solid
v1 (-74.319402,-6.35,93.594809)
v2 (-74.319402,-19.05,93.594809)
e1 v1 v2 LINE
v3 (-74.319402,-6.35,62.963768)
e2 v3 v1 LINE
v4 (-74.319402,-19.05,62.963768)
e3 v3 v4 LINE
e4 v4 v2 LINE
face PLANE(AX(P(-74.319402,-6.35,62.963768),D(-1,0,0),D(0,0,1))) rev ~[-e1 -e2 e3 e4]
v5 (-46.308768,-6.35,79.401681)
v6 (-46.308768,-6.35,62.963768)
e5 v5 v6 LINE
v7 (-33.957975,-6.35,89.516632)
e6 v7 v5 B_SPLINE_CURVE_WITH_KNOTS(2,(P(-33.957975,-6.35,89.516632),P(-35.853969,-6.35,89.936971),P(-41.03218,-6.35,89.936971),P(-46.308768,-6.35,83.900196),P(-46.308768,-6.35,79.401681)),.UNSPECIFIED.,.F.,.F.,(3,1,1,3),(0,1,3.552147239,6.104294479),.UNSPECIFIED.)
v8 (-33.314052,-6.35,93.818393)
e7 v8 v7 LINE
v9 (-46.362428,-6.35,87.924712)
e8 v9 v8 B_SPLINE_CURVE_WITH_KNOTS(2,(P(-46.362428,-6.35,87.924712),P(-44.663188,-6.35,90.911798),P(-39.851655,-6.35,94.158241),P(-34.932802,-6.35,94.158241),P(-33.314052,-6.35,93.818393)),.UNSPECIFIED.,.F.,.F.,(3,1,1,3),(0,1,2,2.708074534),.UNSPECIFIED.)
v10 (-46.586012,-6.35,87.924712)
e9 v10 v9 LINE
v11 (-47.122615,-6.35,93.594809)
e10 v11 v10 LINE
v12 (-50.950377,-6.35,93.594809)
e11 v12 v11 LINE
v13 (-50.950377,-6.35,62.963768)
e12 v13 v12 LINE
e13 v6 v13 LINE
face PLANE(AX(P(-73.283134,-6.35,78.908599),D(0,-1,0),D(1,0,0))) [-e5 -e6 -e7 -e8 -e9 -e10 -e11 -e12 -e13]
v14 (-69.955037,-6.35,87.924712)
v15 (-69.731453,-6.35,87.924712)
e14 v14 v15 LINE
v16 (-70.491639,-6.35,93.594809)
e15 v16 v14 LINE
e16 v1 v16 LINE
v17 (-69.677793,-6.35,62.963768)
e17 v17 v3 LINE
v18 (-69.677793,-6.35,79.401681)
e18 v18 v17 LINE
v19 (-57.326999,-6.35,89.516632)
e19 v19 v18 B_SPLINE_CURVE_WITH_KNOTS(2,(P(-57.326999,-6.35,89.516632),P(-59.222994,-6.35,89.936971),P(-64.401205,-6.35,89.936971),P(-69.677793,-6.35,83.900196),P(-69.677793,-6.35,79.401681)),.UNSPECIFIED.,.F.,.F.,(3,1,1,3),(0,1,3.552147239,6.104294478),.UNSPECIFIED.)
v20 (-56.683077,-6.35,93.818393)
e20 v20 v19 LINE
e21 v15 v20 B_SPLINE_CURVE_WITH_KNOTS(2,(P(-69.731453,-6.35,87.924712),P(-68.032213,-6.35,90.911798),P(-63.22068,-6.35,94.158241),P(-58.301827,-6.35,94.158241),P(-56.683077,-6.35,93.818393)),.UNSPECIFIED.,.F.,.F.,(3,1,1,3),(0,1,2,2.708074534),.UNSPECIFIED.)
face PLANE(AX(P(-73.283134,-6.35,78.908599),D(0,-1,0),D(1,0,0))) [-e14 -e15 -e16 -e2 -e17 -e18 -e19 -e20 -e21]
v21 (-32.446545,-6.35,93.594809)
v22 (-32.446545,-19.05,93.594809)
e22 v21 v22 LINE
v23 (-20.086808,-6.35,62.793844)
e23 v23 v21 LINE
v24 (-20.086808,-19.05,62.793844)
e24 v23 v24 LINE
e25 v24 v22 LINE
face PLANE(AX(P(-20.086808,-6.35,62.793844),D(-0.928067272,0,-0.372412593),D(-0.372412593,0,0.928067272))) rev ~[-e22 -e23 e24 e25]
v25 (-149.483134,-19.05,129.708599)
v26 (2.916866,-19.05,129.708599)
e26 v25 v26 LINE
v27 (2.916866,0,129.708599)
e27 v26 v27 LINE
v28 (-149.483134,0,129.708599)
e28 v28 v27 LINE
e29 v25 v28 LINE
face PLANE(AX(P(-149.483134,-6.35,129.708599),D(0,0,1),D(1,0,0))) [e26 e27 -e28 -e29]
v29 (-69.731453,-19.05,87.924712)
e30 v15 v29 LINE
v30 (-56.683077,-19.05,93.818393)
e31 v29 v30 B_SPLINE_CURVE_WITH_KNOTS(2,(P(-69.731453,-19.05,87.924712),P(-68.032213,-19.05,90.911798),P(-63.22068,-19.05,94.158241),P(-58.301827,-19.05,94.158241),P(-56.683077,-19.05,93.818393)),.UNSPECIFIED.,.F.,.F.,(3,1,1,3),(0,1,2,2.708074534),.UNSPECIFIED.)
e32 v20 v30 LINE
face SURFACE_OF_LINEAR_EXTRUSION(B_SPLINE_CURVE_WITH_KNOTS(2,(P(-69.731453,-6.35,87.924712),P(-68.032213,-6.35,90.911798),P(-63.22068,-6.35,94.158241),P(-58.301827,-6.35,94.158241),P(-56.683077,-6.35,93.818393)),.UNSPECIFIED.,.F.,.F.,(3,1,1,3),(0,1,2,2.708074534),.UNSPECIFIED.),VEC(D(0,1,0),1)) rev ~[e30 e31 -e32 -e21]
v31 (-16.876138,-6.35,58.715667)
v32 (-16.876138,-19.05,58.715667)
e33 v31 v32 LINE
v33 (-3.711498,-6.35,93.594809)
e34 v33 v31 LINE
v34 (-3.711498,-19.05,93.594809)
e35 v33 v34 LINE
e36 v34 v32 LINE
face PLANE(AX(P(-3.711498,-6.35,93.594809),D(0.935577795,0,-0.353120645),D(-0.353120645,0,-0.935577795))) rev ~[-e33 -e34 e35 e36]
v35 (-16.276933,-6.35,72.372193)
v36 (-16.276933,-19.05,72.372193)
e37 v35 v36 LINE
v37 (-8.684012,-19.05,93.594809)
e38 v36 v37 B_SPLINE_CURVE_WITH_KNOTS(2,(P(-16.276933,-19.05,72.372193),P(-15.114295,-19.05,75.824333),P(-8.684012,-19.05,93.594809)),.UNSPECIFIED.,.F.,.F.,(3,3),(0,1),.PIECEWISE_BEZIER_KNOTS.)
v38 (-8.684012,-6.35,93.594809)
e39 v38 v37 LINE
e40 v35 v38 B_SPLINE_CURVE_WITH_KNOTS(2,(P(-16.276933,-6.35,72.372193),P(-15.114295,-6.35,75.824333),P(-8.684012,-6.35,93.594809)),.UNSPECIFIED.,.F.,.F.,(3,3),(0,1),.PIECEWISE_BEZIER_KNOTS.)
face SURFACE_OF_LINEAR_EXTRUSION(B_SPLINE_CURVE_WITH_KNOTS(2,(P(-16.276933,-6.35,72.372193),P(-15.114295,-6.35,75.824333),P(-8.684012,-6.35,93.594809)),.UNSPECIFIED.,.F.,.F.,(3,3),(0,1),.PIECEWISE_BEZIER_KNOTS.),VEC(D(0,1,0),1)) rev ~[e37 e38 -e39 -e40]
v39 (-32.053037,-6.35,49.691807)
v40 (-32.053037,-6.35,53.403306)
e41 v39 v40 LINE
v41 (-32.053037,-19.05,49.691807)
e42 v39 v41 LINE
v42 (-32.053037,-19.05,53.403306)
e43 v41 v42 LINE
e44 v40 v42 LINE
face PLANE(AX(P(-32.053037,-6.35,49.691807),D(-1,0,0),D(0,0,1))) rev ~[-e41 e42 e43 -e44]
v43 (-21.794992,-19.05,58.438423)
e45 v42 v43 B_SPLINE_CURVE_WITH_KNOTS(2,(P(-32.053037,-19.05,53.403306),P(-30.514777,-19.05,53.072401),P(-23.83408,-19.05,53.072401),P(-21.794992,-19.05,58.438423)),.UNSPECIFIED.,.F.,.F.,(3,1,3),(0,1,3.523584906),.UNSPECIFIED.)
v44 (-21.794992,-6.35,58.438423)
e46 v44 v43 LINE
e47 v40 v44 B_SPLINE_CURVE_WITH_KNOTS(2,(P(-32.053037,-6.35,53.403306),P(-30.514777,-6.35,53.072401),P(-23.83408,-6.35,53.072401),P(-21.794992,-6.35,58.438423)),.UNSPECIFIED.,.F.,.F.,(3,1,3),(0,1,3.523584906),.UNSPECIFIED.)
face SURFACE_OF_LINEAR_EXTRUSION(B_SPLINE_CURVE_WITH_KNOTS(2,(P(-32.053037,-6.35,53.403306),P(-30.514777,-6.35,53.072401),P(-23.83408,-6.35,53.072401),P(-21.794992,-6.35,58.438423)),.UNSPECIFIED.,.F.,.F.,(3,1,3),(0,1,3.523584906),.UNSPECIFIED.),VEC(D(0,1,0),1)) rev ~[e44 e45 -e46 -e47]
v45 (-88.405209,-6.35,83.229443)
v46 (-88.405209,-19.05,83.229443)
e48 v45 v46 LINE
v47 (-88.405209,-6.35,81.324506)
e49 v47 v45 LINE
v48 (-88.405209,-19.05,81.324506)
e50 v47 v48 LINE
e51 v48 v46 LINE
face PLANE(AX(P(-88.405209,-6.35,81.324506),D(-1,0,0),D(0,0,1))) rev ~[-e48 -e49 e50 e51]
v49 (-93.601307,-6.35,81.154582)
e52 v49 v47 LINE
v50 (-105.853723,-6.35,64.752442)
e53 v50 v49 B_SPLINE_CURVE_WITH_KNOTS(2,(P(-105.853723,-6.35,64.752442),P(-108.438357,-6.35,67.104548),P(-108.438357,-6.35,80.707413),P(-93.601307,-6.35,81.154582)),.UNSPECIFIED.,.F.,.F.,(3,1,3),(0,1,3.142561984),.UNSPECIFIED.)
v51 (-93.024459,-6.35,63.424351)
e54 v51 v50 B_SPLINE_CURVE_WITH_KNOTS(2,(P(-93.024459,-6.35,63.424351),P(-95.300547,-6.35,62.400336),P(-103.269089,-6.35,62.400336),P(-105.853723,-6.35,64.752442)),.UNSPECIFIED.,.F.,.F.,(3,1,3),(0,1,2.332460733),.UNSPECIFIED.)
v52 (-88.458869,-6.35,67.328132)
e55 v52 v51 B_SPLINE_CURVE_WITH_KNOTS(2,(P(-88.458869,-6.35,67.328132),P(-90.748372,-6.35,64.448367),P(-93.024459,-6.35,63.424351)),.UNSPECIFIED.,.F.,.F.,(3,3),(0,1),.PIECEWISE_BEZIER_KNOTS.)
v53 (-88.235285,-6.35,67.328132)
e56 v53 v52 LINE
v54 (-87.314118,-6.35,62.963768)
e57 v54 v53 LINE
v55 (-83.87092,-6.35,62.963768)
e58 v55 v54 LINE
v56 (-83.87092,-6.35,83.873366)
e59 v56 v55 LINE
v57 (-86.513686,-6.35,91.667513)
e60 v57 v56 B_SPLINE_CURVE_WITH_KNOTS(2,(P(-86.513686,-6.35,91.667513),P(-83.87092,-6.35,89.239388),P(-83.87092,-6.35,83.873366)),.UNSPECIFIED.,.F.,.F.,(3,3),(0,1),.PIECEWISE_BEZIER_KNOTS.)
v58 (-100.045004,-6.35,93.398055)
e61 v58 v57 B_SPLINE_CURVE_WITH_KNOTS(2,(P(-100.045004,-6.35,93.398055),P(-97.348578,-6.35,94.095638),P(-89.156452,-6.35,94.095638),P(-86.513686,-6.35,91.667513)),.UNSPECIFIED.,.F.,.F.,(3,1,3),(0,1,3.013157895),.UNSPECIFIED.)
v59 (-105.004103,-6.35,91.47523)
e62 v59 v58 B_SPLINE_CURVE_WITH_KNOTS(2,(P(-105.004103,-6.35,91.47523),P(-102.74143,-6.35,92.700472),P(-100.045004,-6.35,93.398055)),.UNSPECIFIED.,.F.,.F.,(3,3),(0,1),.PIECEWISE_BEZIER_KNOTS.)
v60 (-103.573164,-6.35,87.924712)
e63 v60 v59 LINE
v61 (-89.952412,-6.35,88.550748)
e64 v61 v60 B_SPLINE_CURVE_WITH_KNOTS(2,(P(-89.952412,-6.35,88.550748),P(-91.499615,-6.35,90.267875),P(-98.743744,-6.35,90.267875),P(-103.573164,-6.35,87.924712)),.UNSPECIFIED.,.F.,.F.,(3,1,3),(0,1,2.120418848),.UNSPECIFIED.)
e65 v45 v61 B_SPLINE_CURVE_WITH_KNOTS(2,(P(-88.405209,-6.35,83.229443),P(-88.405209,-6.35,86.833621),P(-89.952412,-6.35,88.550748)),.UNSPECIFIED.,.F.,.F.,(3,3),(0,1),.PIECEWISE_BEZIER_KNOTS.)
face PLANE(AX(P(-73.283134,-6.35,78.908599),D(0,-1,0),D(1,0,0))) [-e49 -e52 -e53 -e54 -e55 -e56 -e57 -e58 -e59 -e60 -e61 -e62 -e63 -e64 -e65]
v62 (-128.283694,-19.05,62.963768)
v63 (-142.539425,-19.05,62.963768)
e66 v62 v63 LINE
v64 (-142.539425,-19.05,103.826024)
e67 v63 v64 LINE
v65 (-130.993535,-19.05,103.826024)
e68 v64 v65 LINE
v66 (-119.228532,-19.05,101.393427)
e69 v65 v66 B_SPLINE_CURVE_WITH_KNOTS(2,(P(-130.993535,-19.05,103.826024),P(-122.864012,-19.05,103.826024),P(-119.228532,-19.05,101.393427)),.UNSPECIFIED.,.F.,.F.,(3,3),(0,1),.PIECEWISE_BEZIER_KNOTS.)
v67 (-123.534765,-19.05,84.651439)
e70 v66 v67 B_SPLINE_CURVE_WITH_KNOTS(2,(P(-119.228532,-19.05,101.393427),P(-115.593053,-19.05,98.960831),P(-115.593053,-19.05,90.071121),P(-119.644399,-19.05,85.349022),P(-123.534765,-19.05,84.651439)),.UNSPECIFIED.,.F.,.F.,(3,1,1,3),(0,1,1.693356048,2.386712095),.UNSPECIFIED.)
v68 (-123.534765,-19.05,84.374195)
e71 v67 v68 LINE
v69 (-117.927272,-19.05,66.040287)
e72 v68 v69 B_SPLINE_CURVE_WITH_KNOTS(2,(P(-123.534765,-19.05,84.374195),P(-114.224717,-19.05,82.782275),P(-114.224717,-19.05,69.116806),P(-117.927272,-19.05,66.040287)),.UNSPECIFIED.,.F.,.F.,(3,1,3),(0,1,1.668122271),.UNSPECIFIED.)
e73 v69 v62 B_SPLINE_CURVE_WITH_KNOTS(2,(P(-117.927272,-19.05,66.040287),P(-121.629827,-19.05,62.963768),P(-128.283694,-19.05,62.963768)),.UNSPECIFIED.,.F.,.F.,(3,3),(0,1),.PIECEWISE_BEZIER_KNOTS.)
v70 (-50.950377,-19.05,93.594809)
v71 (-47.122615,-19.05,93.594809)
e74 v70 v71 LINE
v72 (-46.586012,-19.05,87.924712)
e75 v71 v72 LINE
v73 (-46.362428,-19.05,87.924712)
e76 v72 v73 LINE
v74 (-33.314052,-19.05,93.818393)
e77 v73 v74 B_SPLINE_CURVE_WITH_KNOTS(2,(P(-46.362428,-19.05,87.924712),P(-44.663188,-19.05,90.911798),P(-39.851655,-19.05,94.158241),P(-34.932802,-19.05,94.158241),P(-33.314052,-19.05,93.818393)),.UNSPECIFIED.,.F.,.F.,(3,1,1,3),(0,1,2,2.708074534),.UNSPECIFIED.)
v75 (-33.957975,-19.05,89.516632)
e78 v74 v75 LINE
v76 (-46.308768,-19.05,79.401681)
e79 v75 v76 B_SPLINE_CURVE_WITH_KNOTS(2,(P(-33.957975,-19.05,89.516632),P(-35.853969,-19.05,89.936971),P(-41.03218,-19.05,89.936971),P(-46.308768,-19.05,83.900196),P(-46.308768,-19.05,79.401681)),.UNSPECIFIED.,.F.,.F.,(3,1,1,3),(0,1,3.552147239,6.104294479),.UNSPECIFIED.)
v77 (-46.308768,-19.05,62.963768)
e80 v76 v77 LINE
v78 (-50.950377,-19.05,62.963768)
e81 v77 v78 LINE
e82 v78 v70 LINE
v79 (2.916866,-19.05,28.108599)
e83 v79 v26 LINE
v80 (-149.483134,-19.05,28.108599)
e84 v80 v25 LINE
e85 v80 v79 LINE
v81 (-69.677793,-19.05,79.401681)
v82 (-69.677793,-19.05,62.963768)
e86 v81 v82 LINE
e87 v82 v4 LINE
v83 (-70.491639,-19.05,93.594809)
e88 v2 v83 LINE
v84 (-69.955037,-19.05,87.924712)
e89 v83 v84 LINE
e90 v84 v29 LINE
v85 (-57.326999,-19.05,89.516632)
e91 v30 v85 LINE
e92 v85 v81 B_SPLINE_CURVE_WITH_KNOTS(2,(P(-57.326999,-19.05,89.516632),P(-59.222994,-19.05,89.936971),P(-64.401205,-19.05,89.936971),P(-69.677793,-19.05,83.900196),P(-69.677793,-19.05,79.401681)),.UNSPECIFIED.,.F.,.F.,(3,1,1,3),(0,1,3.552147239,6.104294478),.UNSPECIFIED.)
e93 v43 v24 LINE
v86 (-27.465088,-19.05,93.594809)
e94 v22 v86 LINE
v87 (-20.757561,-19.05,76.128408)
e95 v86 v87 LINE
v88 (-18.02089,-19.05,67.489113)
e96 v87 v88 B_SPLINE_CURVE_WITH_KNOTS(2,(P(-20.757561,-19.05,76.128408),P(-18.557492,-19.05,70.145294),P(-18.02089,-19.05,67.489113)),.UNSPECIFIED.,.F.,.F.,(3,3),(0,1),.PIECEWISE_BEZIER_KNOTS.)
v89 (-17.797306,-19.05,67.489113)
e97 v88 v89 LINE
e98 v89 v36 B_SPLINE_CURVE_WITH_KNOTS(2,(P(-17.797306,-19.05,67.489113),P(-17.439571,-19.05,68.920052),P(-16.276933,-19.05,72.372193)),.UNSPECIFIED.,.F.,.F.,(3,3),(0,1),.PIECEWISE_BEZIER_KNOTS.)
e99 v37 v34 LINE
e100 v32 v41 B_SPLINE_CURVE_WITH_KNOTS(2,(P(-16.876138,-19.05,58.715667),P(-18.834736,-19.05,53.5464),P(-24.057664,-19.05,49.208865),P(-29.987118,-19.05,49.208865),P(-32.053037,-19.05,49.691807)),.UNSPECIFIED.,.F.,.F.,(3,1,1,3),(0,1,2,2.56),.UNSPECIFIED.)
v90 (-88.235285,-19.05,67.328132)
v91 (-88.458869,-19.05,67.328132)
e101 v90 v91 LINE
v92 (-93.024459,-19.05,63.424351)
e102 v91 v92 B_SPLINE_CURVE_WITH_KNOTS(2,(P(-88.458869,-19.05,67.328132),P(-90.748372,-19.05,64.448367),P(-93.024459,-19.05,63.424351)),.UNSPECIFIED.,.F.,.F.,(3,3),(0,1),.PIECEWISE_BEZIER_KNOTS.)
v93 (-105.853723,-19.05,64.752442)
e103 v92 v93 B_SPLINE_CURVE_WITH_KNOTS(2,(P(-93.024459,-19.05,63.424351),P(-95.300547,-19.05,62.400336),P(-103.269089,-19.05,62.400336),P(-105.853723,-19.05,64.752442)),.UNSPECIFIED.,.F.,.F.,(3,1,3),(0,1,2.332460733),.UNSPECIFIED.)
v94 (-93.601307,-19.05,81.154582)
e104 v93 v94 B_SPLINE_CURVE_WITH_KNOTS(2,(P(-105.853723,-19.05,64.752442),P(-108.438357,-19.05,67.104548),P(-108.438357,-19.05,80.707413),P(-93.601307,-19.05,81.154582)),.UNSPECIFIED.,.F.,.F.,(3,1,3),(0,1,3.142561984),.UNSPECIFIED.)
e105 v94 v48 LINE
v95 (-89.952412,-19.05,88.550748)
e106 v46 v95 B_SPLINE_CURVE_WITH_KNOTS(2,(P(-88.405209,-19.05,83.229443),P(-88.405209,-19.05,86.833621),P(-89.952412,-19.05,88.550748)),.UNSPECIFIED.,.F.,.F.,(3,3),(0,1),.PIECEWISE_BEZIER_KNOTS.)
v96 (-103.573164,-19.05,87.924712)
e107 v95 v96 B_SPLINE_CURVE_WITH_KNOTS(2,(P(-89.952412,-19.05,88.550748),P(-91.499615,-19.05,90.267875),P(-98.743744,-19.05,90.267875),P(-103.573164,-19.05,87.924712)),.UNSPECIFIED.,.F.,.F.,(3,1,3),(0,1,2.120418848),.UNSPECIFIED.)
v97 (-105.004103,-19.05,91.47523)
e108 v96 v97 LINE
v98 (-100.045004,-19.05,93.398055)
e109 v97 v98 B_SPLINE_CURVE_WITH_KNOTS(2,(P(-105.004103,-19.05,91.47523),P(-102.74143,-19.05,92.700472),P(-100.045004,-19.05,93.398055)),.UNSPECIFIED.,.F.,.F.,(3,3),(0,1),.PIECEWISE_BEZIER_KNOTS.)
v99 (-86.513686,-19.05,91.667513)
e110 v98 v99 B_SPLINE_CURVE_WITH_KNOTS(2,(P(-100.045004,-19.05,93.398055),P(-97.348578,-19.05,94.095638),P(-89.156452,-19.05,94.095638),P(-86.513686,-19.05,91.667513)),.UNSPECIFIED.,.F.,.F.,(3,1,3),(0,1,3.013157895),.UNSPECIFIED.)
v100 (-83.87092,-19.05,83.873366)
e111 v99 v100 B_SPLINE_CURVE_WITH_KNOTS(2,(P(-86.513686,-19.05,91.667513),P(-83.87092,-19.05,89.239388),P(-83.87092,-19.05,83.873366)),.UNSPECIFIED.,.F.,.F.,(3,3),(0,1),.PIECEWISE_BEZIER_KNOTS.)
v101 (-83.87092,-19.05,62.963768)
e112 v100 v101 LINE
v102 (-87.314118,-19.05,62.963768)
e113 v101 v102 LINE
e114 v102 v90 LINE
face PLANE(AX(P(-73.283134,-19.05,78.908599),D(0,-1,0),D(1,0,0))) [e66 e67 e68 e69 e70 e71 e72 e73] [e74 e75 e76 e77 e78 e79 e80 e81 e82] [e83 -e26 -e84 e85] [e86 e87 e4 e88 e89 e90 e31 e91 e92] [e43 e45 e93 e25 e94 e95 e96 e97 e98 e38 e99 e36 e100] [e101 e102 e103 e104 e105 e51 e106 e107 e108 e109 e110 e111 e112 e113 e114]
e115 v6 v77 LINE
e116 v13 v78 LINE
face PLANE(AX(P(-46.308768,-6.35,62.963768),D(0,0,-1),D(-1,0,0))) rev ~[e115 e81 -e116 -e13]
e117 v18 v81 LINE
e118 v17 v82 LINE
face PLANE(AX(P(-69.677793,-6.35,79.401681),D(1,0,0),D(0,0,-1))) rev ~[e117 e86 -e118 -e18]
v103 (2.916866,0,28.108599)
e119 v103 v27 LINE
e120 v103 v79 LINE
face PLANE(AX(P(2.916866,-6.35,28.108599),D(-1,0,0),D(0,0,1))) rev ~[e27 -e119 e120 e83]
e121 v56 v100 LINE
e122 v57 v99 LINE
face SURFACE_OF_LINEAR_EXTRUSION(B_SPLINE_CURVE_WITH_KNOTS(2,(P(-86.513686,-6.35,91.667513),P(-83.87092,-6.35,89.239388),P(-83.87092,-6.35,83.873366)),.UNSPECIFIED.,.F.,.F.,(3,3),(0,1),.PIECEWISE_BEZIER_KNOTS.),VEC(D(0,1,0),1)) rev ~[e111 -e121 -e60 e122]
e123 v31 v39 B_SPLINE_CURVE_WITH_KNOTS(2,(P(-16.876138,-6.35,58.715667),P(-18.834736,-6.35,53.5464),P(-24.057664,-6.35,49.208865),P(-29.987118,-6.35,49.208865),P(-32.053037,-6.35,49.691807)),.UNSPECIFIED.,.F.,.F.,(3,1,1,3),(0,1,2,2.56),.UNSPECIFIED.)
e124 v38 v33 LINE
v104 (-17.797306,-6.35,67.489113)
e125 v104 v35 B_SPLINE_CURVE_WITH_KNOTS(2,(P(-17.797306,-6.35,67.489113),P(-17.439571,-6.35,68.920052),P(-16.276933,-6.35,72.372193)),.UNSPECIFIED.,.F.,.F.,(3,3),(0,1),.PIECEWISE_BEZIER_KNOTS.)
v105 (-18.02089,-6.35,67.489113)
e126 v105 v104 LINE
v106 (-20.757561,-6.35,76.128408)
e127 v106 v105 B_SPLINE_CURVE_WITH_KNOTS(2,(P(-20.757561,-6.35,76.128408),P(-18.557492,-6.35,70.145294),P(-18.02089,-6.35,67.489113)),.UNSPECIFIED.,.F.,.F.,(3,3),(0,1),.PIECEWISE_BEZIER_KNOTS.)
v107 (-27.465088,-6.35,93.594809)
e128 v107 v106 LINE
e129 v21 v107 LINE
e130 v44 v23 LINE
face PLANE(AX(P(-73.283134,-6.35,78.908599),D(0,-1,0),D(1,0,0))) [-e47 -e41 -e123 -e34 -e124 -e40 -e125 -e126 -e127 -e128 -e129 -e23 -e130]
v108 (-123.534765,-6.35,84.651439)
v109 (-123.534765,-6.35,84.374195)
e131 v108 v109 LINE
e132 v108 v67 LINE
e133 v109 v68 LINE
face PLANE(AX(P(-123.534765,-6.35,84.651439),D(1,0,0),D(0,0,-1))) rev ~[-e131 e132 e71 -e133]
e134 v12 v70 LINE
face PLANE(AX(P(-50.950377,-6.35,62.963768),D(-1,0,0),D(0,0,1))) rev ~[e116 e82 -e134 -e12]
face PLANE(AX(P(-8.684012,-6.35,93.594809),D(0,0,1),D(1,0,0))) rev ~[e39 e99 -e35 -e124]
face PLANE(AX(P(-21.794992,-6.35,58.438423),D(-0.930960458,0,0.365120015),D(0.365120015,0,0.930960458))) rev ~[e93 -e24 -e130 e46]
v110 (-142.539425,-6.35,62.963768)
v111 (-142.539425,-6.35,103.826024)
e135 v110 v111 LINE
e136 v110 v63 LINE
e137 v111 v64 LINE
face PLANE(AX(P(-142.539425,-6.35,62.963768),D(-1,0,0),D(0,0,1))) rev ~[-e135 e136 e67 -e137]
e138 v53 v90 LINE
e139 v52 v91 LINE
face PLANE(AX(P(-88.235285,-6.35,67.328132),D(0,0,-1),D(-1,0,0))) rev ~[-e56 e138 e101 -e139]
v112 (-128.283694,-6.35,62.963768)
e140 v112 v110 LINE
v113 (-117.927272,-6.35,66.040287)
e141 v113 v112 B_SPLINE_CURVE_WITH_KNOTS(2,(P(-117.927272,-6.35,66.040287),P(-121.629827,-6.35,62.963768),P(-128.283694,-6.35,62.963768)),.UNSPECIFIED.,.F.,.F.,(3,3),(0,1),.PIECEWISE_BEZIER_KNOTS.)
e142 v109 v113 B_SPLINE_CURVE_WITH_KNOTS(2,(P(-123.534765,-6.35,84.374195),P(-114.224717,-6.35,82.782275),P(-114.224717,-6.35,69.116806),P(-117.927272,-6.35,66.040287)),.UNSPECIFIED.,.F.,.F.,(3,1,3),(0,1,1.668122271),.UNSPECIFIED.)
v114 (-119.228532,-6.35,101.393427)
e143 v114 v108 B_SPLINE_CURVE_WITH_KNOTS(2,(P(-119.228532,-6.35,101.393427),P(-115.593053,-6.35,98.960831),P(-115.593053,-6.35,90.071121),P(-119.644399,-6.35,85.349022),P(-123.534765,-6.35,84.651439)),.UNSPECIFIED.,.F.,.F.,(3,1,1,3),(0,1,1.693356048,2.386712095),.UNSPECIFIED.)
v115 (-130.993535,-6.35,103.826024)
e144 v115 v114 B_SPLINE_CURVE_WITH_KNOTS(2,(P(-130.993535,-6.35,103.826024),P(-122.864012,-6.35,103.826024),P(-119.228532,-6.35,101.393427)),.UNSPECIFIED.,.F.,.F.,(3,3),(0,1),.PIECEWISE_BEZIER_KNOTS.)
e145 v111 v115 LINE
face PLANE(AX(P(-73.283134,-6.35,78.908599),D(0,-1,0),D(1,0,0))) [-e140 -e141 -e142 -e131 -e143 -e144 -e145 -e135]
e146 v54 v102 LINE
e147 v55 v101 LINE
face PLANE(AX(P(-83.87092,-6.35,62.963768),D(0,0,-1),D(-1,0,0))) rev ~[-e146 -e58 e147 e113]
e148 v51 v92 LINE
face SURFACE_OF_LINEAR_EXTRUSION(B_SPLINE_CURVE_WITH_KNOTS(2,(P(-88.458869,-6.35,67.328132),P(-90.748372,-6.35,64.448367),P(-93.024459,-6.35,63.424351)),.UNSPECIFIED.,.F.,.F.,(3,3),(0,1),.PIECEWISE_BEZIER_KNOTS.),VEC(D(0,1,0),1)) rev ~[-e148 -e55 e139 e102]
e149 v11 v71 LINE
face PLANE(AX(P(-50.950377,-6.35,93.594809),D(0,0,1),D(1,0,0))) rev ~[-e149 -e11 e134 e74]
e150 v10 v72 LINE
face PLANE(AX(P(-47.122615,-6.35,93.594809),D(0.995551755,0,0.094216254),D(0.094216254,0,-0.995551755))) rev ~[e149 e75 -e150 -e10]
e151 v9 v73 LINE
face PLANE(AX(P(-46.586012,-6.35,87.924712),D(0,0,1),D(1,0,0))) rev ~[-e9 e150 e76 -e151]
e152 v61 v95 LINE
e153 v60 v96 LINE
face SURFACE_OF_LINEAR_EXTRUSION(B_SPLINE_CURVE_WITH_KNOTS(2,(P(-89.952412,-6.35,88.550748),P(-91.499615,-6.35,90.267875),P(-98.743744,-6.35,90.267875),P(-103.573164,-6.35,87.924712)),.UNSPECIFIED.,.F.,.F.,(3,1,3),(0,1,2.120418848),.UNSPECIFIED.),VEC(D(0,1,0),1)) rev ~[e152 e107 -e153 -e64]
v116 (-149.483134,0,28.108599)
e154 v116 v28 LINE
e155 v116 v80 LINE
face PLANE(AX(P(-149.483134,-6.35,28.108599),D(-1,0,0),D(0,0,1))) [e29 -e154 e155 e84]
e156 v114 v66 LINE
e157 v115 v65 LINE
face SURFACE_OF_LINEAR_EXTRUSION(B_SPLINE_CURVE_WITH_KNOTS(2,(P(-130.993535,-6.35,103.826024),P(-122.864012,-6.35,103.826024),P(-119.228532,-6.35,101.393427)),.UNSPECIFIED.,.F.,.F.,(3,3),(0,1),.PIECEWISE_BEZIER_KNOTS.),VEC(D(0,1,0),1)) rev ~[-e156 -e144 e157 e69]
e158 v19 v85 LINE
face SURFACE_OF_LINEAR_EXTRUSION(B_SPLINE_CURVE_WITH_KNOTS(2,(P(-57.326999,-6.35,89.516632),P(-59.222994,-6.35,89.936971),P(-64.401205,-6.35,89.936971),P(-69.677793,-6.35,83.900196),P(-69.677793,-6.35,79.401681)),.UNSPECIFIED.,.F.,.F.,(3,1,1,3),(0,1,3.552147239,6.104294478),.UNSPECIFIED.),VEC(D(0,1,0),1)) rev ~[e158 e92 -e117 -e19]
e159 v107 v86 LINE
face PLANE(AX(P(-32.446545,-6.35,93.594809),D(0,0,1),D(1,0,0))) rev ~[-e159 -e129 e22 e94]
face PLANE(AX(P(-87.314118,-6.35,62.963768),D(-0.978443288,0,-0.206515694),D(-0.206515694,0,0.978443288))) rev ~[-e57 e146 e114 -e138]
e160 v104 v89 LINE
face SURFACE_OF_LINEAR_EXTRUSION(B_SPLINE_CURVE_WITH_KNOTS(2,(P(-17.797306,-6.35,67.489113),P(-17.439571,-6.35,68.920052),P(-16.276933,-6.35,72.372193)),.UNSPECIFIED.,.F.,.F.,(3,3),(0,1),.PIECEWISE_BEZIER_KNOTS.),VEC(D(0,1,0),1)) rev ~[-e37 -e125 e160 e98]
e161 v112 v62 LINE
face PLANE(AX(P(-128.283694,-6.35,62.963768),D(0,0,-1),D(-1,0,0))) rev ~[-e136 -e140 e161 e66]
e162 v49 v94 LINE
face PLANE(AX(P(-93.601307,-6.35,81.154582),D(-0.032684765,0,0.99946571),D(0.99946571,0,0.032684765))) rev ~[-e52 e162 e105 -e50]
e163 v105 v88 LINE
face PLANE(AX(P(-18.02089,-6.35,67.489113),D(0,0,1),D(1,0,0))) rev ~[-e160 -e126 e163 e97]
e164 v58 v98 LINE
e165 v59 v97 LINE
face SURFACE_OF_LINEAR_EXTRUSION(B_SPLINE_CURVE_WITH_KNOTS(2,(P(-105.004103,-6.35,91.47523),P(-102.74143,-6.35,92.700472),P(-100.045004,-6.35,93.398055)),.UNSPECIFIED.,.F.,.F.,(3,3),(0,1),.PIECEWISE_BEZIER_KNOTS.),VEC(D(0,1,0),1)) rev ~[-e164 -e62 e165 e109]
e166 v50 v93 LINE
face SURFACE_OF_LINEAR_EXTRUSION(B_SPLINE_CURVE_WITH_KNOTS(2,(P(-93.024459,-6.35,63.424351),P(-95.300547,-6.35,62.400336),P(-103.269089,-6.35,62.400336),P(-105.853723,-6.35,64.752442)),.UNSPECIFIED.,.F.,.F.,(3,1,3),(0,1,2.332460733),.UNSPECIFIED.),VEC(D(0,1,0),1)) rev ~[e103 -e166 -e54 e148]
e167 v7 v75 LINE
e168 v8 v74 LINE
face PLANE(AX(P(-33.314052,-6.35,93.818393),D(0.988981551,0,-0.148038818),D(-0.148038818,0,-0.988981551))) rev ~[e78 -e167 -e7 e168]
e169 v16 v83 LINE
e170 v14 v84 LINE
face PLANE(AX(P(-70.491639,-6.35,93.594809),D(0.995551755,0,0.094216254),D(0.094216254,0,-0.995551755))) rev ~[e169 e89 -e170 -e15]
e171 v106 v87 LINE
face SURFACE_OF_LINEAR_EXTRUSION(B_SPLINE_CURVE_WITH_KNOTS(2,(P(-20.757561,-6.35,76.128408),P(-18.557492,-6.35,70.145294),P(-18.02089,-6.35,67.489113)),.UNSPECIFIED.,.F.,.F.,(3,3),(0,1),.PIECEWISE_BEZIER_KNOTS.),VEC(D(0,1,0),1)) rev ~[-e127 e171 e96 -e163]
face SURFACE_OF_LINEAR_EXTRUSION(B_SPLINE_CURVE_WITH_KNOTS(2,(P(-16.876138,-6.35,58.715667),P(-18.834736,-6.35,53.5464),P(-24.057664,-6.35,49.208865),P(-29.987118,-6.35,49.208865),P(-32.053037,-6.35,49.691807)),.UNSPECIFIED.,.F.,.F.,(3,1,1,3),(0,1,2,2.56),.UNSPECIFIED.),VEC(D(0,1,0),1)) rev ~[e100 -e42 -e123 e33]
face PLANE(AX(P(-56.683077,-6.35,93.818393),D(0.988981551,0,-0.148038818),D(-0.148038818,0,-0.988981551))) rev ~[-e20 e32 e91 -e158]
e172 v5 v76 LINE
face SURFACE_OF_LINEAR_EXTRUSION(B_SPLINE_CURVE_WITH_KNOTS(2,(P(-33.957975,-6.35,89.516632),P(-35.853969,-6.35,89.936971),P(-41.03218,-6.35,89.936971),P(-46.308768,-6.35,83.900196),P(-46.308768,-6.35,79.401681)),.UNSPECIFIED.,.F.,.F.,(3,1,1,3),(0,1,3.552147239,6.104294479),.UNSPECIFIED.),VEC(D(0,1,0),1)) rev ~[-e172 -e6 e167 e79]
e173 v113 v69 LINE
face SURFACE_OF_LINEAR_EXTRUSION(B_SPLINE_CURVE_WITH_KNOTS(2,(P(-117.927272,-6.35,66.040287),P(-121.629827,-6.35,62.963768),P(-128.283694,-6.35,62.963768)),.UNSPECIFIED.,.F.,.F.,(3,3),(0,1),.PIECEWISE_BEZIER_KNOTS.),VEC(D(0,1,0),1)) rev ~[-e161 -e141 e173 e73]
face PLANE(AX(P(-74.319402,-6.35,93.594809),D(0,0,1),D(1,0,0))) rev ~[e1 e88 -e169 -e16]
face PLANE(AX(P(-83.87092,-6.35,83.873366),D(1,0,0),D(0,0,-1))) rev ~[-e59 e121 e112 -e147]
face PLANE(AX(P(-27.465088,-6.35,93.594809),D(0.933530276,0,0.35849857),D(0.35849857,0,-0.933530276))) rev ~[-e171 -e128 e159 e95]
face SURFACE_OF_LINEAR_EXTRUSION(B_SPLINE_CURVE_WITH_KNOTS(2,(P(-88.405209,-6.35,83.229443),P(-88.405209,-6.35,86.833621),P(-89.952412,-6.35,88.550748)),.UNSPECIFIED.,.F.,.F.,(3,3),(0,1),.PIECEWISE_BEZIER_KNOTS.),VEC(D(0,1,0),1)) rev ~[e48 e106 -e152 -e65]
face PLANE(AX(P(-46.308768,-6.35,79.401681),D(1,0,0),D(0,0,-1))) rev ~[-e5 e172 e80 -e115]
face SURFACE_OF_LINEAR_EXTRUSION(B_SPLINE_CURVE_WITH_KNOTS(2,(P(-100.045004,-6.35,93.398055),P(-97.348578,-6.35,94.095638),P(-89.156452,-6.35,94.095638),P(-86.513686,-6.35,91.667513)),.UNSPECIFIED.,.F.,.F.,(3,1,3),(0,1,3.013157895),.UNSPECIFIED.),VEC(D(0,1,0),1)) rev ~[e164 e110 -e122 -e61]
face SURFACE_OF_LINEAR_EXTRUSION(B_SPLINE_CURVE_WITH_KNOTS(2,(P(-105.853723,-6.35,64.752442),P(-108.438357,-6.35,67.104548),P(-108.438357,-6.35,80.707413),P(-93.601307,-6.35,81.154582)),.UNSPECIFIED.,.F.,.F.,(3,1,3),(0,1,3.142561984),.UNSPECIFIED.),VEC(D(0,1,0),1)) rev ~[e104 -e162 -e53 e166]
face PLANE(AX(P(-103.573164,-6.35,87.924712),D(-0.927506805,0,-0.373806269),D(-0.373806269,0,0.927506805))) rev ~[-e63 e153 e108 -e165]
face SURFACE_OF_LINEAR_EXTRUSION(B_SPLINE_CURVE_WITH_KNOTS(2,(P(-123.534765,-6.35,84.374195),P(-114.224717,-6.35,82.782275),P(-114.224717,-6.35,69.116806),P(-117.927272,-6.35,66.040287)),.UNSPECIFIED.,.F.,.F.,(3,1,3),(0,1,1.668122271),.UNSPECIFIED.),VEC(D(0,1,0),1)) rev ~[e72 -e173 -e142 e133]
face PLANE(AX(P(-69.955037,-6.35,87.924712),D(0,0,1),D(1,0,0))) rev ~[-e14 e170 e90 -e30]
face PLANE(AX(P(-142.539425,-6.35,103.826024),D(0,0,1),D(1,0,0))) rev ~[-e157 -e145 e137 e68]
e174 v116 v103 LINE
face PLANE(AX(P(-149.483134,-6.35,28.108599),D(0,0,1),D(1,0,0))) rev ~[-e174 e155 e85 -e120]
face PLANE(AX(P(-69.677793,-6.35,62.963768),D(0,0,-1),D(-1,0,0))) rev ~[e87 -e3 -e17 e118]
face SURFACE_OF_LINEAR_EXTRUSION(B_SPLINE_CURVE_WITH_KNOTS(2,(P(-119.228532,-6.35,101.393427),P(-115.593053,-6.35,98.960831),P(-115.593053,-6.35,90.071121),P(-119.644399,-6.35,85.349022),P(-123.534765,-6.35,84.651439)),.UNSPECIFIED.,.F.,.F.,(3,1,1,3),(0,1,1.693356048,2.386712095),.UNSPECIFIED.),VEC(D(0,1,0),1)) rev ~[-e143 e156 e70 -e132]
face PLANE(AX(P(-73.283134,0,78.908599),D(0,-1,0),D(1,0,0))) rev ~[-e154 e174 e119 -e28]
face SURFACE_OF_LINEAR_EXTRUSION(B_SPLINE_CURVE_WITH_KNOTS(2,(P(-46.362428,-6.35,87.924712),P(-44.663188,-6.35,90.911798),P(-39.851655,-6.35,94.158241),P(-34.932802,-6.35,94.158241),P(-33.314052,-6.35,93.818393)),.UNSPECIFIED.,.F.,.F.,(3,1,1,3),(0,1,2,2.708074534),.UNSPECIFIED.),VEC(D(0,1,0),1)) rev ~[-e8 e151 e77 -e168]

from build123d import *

# Parameters (mm, degrees)
F0_W     = 152.4
F0_H     = 101.6
F1_DEPTH = 6.35
F2_W     = 152.4
F2_H     = 101.6
F3_DEPTH = 12.7


with BuildPart() as f1:
    # F0 (on Front) → F1 (new body)
    with BuildSketch(Plane.XZ):
        with Locations((-73.2831337214, 78.9085992667)):
            Rectangle(F0_W, F0_H)
    extrude(amount=F1_DEPTH)

    # F2 (on face) → F3 (join)
    with BuildSketch(Plane.XZ.offset(6.35)):
        with Locations((-73.2831337214, 78.9085992667)):
            Rectangle(F2_W, F2_H)
        with BuildLine():
            Line((-83.8709204292, 62.9637678441), (-87.3141177383, 62.9637678441))
            Line((-87.3141177383, 62.9637678441), (-88.2352848107, 67.3281322256))
            Line((-88.2352848107, 67.3281322256), (-88.4588690515, 67.3281322256))
            add(Edge.make_bspline(
                [(-88.4588690515, 67.3281322256), (-90.7483716779, 64.4483672034), (-93.0244592498, 63.4243513802)],
                knots=[0, 0, 0, 1, 1, 1], degree=2))
            add(Edge.make_bspline(
                [(-93.0244592498, 63.4243513802), (-95.3005468216, 62.4003355571), (-98.7169140219, 62.4003355571)],
                knots=[0, 0, 0, 1, 1, 1], degree=2))
            add(Edge.make_bspline(
                [(-98.7169140219, 62.4003355571), (-103.2690891657, 62.4003355571), (-105.85372299, 64.7524417709)],
                knots=[0, 0, 0, 1, 1, 1], degree=2))
            add(Edge.make_bspline(
                [(-105.85372299, 64.7524417709), (-108.4383568142, 67.1045479847), (-108.4383568142, 71.4331388876)],
                knots=[0, 0, 0, 1, 1, 1], degree=2))
            add(Edge.make_bspline(
                [(-108.4383568142, 71.4331388876), (-108.4383568142, 80.7074131983), (-93.6013065912, 81.15458168)],
                knots=[0, 0, 0, 1, 1, 1], degree=2))
            Line((-93.6013065912, 81.15458168), (-88.4052088337, 81.324505703))
            Line((-88.4052088337, 81.324505703), (-88.4052088337, 83.2294434351))
            add(Edge.make_bspline(
                [(-88.4052088337, 83.2294434351), (-88.4052088337, 86.8336213977), (-89.9524117804, 88.5507483674)],
                knots=[0, 0, 0, 1, 1, 1], degree=2))
            add(Edge.make_bspline(
                [(-89.9524117804, 88.5507483674), (-91.4996147271, 90.2678753372), (-94.9159819274, 90.2678753372)],
                knots=[0, 0, 0, 1, 1, 1], degree=2))
            add(Edge.make_bspline(
                [(-94.9159819274, 90.2678753372), (-98.7437441308, 90.2678753372), (-103.5731637332, 87.924712493)],
                knots=[0, 0, 0, 1, 1, 1], degree=2))
            Line((-103.5731637332, 87.924712493), (-105.0041028747, 91.4752302378))
            add(Edge.make_bspline(
                [(-105.0041028747, 91.4752302378), (-102.7414303573, 92.7004718777), (-100.0450044126, 93.3980547091)],
                knots=[0, 0, 0, 1, 1, 1], degree=2))
            add(Edge.make_bspline(
                [(-100.0450044126, 93.3980547091), (-97.3485784679, 94.0956375406), (-94.6297940991, 94.0956375406)],
                knots=[0, 0, 0, 1, 1, 1], degree=2))
            add(Edge.make_bspline(
                [(-94.6297940991, 94.0956375406), (-89.156451883, 94.0956375406), (-86.5136861561, 91.6675126849)],
                knots=[0, 0, 0, 1, 1, 1], degree=2))
            add(Edge.make_bspline(
                [(-86.5136861561, 91.6675126849), (-83.8709204292, 89.2393878293), (-83.8709204292, 83.8733660488)],
                knots=[0, 0, 0, 1, 1, 1], degree=2))
            Line((-83.8709204292, 83.8733660488), (-83.8709204292, 62.9637678441))
        make_face(mode=Mode.SUBTRACT)
        with BuildLine():
            add(Edge.make_bspline(
                [(-65.6264463755, 92.5350195394), (-63.2206799439, 94.158241128), (-60.3409149217, 94.158241128)],
                knots=[0, 0, 0, 1, 1, 1], degree=2))
            add(Edge.make_bspline(
                [(-60.3409149217, 94.158241128), (-58.3018266451, 94.158241128), (-56.6830767413, 93.818393082)],
                knots=[0, 0, 0, 1, 1, 1], degree=2))
            Line((-56.6830767413, 93.818393082), (-57.326999355, 89.5166322879))
            add(Edge.make_bspline(
                [(-57.326999355, 89.5166322879), (-59.2229937174, 89.9369706607), (-60.6807629678, 89.9369706607)],
                knots=[0, 0, 0, 1, 1, 1], degree=2))
            add(Edge.make_bspline(
                [(-60.6807629678, 89.9369706607), (-64.4012047356, 89.9369706607), (-67.0394987777, 86.9185834092)],
                knots=[0, 0, 0, 1, 1, 1], degree=2))
            add(Edge.make_bspline(
                [(-67.0394987777, 86.9185834092), (-69.6777928198, 83.9001961577), (-69.6777928198, 79.4016812317)],
                knots=[0, 0, 0, 1, 1, 1], degree=2))
            Line((-69.6777928198, 79.4016812317), (-69.6777928198, 62.9637678441))
            Line((-69.6777928198, 62.9637678441), (-74.3194016599, 62.9637678441))
            Line((-74.3194016599, 62.9637678441), (-74.3194016599, 93.5948088411))
            Line((-74.3194016599, 93.5948088411), (-70.4916394565, 93.5948088411))
            Line((-70.4916394565, 93.5948088411), (-69.9550372784, 87.924712493))
            Line((-69.9550372784, 87.924712493), (-69.7314530376, 87.924712493))
            add(Edge.make_bspline(
                [(-69.7314530376, 87.924712493), (-68.0322128071, 90.9117979508), (-65.6264463755, 92.5350195394)],
                knots=[0, 0, 0, 1, 1, 1], degree=2))
        make_face(mode=Mode.SUBTRACT)
        with BuildLine():
            add(Edge.make_bspline(
                [(-42.2574215214, 92.5350195394), (-39.8516550898, 94.158241128), (-36.9718900676, 94.158241128)],
                knots=[0, 0, 0, 1, 1, 1], degree=2))
            add(Edge.make_bspline(
                [(-36.9718900676, 94.158241128), (-34.932801791, 94.158241128), (-33.3140518873, 93.818393082)],
                knots=[0, 0, 0, 1, 1, 1], degree=2))
            Line((-33.3140518873, 93.818393082), (-33.9579745009, 89.5166322879))
            add(Edge.make_bspline(
                [(-33.9579745009, 89.5166322879), (-35.8539688634, 89.9369706607), (-37.3117381137, 89.9369706607)],
                knots=[0, 0, 0, 1, 1, 1], degree=2))
            add(Edge.make_bspline(
                [(-37.3117381137, 89.9369706607), (-41.0321798815, 89.9369706607), (-43.6704739236, 86.9185834092)],
                knots=[0, 0, 0, 1, 1, 1], degree=2))
            add(Edge.make_bspline(
                [(-43.6704739236, 86.9185834092), (-46.3087679657, 83.9001961577), (-46.3087679657, 79.4016812317)],
                knots=[0, 0, 0, 1, 1, 1], degree=2))
            Line((-46.3087679657, 79.4016812317), (-46.3087679657, 62.9637678441))
            Line((-46.3087679657, 62.9637678441), (-50.9503768058, 62.9637678441))
            Line((-50.9503768058, 62.9637678441), (-50.9503768058, 93.5948088411))
            Line((-50.9503768058, 93.5948088411), (-47.1226146024, 93.5948088411))
            Line((-47.1226146024, 93.5948088411), (-46.5860124244, 87.924712493))
            Line((-46.5860124244, 87.924712493), (-46.3624281835, 87.924712493))
            add(Edge.make_bspline(
                [(-46.3624281835, 87.924712493), (-44.663187953, 90.9117979508), (-42.2574215214, 92.5350195394)],
                knots=[0, 0, 0, 1, 1, 1], degree=2))
        make_face(mode=Mode.SUBTRACT)
        with BuildLine():
            Line((-20.0868081983, 62.793843821), (-32.4465450327, 93.5948088411))
            Line((-32.4465450327, 93.5948088411), (-27.4650881465, 93.5948088411))
            Line((-27.4650881465, 93.5948088411), (-20.7575609209, 76.1284079456))
            add(Edge.make_bspline(
                [(-20.7575609209, 76.1284079456), (-18.5574919909, 70.1452936603), (-18.0208898128, 67.489112879)],
                knots=[0, 0, 0, 1, 1, 1], degree=2))
            Line((-18.0208898128, 67.489112879), (-17.797305572, 67.489112879))
            add(Edge.make_bspline(
                [(-17.797305572, 67.489112879), (-17.4395707866, 68.9200520204), (-16.2769327342, 72.3721926992)],
                knots=[0, 0, 0, 1, 1, 1], degree=2))
            add(Edge.make_bspline(
                [(-16.2769327342, 72.3721926992), (-15.1142946817, 75.824333378), (-8.6840119148, 93.5948088411)],
                knots=[0, 0, 0, 1, 1, 1], degree=2))
            Line((-8.6840119148, 93.5948088411), (-3.7114983982, 93.5948088411))
            Line((-3.7114983982, 93.5948088411), (-16.8761384997, 58.7156672679))
            add(Edge.make_bspline(
                [(-16.8761384997, 58.7156672679), (-18.8347364495, 53.5463996193), (-21.4462003827, 51.377632483)],
                knots=[0, 0, 0, 1, 1, 1], degree=2))
            add(Edge.make_bspline(
                [(-21.4462003827, 51.377632483), (-24.0576643159, 49.2088653467), (-27.8585964104, 49.2088653467)],
                knots=[0, 0, 0, 1, 1, 1], degree=2))
            add(Edge.make_bspline(
                [(-27.8585964104, 49.2088653467), (-29.9871183834, 49.2088653467), (-32.0530367688, 49.691807307)],
                knots=[0, 0, 0, 1, 1, 1], degree=2))
            Line((-32.0530367688, 49.691807307), (-32.0530367688, 53.4033057052))
            add(Edge.make_bspline(
                [(-32.0530367688, 53.4033057052), (-30.5147771918, 53.0724010287), (-28.6187828293, 53.0724010287)],
                knots=[0, 0, 0, 1, 1, 1], degree=2))
            add(Edge.make_bspline(
                [(-28.6187828293, 53.0724010287), (-23.834080075, 53.0724010287), (-21.7949917985, 58.4384228092)],
                knots=[0, 0, 0, 1, 1, 1], degree=2))
            Line((-21.7949917985, 58.4384228092), (-20.0868081983, 62.793843821))
        make_face(mode=Mode.SUBTRACT)
        with BuildLine():
            Line((-142.5394252293, 62.9637678441), (-142.5394252293, 103.8260237026))
            Line((-142.5394252293, 103.8260237026), (-130.9935350316, 103.8260237026))
            add(Edge.make_bspline(
                [(-130.9935350316, 103.8260237026), (-122.8640120341, 103.8260237026), (-119.2285322779, 101.3934271621)],
                knots=[0, 0, 0, 1, 1, 1], degree=2))
            add(Edge.make_bspline(
                [(-119.2285322779, 101.3934271621), (-115.5930525216, 98.9608306216), (-115.5930525216, 93.7110726463)],
                knots=[0, 0, 0, 1, 1, 1], degree=2))
            add(Edge.make_bspline(
                [(-115.5930525216, 93.7110726463), (-115.5930525216, 90.0711212052), (-117.6187257437, 87.7100716218)],
                knots=[0, 0, 0, 1, 1, 1], degree=2))
            add(Edge.make_bspline(
                [(-117.6187257437, 87.7100716218), (-119.6443989658, 85.3490220384), (-123.5347647567, 84.6514392069)],
                knots=[0, 0, 0, 1, 1, 1], degree=2))
            Line((-123.5347647567, 84.6514392069), (-123.5347647567, 84.3741947483))
            add(Edge.make_bspline(
                [(-123.5347647567, 84.3741947483), (-114.2247169675, 82.7822749534), (-114.2247169675, 74.5901483685)],
                knots=[0, 0, 0, 1, 1, 1], degree=2))
            add(Edge.make_bspline(
                [(-114.2247169675, 74.5901483685), (-114.2247169675, 69.1168061524), (-117.9272719961, 66.0402869982)],
                knots=[0, 0, 0, 1, 1, 1], degree=2))
            add(Edge.make_bspline(
                [(-117.9272719961, 66.0402869982), (-121.6298270246, 62.9637678441), (-128.2836940324, 62.9637678441)],
                knots=[0, 0, 0, 1, 1, 1], degree=2))
            Line((-128.2836940324, 62.9637678441), (-142.5394252293, 62.9637678441))
        make_face(mode=Mode.SUBTRACT)
    extrude(amount=F3_DEPTH)


solid = f1.part
